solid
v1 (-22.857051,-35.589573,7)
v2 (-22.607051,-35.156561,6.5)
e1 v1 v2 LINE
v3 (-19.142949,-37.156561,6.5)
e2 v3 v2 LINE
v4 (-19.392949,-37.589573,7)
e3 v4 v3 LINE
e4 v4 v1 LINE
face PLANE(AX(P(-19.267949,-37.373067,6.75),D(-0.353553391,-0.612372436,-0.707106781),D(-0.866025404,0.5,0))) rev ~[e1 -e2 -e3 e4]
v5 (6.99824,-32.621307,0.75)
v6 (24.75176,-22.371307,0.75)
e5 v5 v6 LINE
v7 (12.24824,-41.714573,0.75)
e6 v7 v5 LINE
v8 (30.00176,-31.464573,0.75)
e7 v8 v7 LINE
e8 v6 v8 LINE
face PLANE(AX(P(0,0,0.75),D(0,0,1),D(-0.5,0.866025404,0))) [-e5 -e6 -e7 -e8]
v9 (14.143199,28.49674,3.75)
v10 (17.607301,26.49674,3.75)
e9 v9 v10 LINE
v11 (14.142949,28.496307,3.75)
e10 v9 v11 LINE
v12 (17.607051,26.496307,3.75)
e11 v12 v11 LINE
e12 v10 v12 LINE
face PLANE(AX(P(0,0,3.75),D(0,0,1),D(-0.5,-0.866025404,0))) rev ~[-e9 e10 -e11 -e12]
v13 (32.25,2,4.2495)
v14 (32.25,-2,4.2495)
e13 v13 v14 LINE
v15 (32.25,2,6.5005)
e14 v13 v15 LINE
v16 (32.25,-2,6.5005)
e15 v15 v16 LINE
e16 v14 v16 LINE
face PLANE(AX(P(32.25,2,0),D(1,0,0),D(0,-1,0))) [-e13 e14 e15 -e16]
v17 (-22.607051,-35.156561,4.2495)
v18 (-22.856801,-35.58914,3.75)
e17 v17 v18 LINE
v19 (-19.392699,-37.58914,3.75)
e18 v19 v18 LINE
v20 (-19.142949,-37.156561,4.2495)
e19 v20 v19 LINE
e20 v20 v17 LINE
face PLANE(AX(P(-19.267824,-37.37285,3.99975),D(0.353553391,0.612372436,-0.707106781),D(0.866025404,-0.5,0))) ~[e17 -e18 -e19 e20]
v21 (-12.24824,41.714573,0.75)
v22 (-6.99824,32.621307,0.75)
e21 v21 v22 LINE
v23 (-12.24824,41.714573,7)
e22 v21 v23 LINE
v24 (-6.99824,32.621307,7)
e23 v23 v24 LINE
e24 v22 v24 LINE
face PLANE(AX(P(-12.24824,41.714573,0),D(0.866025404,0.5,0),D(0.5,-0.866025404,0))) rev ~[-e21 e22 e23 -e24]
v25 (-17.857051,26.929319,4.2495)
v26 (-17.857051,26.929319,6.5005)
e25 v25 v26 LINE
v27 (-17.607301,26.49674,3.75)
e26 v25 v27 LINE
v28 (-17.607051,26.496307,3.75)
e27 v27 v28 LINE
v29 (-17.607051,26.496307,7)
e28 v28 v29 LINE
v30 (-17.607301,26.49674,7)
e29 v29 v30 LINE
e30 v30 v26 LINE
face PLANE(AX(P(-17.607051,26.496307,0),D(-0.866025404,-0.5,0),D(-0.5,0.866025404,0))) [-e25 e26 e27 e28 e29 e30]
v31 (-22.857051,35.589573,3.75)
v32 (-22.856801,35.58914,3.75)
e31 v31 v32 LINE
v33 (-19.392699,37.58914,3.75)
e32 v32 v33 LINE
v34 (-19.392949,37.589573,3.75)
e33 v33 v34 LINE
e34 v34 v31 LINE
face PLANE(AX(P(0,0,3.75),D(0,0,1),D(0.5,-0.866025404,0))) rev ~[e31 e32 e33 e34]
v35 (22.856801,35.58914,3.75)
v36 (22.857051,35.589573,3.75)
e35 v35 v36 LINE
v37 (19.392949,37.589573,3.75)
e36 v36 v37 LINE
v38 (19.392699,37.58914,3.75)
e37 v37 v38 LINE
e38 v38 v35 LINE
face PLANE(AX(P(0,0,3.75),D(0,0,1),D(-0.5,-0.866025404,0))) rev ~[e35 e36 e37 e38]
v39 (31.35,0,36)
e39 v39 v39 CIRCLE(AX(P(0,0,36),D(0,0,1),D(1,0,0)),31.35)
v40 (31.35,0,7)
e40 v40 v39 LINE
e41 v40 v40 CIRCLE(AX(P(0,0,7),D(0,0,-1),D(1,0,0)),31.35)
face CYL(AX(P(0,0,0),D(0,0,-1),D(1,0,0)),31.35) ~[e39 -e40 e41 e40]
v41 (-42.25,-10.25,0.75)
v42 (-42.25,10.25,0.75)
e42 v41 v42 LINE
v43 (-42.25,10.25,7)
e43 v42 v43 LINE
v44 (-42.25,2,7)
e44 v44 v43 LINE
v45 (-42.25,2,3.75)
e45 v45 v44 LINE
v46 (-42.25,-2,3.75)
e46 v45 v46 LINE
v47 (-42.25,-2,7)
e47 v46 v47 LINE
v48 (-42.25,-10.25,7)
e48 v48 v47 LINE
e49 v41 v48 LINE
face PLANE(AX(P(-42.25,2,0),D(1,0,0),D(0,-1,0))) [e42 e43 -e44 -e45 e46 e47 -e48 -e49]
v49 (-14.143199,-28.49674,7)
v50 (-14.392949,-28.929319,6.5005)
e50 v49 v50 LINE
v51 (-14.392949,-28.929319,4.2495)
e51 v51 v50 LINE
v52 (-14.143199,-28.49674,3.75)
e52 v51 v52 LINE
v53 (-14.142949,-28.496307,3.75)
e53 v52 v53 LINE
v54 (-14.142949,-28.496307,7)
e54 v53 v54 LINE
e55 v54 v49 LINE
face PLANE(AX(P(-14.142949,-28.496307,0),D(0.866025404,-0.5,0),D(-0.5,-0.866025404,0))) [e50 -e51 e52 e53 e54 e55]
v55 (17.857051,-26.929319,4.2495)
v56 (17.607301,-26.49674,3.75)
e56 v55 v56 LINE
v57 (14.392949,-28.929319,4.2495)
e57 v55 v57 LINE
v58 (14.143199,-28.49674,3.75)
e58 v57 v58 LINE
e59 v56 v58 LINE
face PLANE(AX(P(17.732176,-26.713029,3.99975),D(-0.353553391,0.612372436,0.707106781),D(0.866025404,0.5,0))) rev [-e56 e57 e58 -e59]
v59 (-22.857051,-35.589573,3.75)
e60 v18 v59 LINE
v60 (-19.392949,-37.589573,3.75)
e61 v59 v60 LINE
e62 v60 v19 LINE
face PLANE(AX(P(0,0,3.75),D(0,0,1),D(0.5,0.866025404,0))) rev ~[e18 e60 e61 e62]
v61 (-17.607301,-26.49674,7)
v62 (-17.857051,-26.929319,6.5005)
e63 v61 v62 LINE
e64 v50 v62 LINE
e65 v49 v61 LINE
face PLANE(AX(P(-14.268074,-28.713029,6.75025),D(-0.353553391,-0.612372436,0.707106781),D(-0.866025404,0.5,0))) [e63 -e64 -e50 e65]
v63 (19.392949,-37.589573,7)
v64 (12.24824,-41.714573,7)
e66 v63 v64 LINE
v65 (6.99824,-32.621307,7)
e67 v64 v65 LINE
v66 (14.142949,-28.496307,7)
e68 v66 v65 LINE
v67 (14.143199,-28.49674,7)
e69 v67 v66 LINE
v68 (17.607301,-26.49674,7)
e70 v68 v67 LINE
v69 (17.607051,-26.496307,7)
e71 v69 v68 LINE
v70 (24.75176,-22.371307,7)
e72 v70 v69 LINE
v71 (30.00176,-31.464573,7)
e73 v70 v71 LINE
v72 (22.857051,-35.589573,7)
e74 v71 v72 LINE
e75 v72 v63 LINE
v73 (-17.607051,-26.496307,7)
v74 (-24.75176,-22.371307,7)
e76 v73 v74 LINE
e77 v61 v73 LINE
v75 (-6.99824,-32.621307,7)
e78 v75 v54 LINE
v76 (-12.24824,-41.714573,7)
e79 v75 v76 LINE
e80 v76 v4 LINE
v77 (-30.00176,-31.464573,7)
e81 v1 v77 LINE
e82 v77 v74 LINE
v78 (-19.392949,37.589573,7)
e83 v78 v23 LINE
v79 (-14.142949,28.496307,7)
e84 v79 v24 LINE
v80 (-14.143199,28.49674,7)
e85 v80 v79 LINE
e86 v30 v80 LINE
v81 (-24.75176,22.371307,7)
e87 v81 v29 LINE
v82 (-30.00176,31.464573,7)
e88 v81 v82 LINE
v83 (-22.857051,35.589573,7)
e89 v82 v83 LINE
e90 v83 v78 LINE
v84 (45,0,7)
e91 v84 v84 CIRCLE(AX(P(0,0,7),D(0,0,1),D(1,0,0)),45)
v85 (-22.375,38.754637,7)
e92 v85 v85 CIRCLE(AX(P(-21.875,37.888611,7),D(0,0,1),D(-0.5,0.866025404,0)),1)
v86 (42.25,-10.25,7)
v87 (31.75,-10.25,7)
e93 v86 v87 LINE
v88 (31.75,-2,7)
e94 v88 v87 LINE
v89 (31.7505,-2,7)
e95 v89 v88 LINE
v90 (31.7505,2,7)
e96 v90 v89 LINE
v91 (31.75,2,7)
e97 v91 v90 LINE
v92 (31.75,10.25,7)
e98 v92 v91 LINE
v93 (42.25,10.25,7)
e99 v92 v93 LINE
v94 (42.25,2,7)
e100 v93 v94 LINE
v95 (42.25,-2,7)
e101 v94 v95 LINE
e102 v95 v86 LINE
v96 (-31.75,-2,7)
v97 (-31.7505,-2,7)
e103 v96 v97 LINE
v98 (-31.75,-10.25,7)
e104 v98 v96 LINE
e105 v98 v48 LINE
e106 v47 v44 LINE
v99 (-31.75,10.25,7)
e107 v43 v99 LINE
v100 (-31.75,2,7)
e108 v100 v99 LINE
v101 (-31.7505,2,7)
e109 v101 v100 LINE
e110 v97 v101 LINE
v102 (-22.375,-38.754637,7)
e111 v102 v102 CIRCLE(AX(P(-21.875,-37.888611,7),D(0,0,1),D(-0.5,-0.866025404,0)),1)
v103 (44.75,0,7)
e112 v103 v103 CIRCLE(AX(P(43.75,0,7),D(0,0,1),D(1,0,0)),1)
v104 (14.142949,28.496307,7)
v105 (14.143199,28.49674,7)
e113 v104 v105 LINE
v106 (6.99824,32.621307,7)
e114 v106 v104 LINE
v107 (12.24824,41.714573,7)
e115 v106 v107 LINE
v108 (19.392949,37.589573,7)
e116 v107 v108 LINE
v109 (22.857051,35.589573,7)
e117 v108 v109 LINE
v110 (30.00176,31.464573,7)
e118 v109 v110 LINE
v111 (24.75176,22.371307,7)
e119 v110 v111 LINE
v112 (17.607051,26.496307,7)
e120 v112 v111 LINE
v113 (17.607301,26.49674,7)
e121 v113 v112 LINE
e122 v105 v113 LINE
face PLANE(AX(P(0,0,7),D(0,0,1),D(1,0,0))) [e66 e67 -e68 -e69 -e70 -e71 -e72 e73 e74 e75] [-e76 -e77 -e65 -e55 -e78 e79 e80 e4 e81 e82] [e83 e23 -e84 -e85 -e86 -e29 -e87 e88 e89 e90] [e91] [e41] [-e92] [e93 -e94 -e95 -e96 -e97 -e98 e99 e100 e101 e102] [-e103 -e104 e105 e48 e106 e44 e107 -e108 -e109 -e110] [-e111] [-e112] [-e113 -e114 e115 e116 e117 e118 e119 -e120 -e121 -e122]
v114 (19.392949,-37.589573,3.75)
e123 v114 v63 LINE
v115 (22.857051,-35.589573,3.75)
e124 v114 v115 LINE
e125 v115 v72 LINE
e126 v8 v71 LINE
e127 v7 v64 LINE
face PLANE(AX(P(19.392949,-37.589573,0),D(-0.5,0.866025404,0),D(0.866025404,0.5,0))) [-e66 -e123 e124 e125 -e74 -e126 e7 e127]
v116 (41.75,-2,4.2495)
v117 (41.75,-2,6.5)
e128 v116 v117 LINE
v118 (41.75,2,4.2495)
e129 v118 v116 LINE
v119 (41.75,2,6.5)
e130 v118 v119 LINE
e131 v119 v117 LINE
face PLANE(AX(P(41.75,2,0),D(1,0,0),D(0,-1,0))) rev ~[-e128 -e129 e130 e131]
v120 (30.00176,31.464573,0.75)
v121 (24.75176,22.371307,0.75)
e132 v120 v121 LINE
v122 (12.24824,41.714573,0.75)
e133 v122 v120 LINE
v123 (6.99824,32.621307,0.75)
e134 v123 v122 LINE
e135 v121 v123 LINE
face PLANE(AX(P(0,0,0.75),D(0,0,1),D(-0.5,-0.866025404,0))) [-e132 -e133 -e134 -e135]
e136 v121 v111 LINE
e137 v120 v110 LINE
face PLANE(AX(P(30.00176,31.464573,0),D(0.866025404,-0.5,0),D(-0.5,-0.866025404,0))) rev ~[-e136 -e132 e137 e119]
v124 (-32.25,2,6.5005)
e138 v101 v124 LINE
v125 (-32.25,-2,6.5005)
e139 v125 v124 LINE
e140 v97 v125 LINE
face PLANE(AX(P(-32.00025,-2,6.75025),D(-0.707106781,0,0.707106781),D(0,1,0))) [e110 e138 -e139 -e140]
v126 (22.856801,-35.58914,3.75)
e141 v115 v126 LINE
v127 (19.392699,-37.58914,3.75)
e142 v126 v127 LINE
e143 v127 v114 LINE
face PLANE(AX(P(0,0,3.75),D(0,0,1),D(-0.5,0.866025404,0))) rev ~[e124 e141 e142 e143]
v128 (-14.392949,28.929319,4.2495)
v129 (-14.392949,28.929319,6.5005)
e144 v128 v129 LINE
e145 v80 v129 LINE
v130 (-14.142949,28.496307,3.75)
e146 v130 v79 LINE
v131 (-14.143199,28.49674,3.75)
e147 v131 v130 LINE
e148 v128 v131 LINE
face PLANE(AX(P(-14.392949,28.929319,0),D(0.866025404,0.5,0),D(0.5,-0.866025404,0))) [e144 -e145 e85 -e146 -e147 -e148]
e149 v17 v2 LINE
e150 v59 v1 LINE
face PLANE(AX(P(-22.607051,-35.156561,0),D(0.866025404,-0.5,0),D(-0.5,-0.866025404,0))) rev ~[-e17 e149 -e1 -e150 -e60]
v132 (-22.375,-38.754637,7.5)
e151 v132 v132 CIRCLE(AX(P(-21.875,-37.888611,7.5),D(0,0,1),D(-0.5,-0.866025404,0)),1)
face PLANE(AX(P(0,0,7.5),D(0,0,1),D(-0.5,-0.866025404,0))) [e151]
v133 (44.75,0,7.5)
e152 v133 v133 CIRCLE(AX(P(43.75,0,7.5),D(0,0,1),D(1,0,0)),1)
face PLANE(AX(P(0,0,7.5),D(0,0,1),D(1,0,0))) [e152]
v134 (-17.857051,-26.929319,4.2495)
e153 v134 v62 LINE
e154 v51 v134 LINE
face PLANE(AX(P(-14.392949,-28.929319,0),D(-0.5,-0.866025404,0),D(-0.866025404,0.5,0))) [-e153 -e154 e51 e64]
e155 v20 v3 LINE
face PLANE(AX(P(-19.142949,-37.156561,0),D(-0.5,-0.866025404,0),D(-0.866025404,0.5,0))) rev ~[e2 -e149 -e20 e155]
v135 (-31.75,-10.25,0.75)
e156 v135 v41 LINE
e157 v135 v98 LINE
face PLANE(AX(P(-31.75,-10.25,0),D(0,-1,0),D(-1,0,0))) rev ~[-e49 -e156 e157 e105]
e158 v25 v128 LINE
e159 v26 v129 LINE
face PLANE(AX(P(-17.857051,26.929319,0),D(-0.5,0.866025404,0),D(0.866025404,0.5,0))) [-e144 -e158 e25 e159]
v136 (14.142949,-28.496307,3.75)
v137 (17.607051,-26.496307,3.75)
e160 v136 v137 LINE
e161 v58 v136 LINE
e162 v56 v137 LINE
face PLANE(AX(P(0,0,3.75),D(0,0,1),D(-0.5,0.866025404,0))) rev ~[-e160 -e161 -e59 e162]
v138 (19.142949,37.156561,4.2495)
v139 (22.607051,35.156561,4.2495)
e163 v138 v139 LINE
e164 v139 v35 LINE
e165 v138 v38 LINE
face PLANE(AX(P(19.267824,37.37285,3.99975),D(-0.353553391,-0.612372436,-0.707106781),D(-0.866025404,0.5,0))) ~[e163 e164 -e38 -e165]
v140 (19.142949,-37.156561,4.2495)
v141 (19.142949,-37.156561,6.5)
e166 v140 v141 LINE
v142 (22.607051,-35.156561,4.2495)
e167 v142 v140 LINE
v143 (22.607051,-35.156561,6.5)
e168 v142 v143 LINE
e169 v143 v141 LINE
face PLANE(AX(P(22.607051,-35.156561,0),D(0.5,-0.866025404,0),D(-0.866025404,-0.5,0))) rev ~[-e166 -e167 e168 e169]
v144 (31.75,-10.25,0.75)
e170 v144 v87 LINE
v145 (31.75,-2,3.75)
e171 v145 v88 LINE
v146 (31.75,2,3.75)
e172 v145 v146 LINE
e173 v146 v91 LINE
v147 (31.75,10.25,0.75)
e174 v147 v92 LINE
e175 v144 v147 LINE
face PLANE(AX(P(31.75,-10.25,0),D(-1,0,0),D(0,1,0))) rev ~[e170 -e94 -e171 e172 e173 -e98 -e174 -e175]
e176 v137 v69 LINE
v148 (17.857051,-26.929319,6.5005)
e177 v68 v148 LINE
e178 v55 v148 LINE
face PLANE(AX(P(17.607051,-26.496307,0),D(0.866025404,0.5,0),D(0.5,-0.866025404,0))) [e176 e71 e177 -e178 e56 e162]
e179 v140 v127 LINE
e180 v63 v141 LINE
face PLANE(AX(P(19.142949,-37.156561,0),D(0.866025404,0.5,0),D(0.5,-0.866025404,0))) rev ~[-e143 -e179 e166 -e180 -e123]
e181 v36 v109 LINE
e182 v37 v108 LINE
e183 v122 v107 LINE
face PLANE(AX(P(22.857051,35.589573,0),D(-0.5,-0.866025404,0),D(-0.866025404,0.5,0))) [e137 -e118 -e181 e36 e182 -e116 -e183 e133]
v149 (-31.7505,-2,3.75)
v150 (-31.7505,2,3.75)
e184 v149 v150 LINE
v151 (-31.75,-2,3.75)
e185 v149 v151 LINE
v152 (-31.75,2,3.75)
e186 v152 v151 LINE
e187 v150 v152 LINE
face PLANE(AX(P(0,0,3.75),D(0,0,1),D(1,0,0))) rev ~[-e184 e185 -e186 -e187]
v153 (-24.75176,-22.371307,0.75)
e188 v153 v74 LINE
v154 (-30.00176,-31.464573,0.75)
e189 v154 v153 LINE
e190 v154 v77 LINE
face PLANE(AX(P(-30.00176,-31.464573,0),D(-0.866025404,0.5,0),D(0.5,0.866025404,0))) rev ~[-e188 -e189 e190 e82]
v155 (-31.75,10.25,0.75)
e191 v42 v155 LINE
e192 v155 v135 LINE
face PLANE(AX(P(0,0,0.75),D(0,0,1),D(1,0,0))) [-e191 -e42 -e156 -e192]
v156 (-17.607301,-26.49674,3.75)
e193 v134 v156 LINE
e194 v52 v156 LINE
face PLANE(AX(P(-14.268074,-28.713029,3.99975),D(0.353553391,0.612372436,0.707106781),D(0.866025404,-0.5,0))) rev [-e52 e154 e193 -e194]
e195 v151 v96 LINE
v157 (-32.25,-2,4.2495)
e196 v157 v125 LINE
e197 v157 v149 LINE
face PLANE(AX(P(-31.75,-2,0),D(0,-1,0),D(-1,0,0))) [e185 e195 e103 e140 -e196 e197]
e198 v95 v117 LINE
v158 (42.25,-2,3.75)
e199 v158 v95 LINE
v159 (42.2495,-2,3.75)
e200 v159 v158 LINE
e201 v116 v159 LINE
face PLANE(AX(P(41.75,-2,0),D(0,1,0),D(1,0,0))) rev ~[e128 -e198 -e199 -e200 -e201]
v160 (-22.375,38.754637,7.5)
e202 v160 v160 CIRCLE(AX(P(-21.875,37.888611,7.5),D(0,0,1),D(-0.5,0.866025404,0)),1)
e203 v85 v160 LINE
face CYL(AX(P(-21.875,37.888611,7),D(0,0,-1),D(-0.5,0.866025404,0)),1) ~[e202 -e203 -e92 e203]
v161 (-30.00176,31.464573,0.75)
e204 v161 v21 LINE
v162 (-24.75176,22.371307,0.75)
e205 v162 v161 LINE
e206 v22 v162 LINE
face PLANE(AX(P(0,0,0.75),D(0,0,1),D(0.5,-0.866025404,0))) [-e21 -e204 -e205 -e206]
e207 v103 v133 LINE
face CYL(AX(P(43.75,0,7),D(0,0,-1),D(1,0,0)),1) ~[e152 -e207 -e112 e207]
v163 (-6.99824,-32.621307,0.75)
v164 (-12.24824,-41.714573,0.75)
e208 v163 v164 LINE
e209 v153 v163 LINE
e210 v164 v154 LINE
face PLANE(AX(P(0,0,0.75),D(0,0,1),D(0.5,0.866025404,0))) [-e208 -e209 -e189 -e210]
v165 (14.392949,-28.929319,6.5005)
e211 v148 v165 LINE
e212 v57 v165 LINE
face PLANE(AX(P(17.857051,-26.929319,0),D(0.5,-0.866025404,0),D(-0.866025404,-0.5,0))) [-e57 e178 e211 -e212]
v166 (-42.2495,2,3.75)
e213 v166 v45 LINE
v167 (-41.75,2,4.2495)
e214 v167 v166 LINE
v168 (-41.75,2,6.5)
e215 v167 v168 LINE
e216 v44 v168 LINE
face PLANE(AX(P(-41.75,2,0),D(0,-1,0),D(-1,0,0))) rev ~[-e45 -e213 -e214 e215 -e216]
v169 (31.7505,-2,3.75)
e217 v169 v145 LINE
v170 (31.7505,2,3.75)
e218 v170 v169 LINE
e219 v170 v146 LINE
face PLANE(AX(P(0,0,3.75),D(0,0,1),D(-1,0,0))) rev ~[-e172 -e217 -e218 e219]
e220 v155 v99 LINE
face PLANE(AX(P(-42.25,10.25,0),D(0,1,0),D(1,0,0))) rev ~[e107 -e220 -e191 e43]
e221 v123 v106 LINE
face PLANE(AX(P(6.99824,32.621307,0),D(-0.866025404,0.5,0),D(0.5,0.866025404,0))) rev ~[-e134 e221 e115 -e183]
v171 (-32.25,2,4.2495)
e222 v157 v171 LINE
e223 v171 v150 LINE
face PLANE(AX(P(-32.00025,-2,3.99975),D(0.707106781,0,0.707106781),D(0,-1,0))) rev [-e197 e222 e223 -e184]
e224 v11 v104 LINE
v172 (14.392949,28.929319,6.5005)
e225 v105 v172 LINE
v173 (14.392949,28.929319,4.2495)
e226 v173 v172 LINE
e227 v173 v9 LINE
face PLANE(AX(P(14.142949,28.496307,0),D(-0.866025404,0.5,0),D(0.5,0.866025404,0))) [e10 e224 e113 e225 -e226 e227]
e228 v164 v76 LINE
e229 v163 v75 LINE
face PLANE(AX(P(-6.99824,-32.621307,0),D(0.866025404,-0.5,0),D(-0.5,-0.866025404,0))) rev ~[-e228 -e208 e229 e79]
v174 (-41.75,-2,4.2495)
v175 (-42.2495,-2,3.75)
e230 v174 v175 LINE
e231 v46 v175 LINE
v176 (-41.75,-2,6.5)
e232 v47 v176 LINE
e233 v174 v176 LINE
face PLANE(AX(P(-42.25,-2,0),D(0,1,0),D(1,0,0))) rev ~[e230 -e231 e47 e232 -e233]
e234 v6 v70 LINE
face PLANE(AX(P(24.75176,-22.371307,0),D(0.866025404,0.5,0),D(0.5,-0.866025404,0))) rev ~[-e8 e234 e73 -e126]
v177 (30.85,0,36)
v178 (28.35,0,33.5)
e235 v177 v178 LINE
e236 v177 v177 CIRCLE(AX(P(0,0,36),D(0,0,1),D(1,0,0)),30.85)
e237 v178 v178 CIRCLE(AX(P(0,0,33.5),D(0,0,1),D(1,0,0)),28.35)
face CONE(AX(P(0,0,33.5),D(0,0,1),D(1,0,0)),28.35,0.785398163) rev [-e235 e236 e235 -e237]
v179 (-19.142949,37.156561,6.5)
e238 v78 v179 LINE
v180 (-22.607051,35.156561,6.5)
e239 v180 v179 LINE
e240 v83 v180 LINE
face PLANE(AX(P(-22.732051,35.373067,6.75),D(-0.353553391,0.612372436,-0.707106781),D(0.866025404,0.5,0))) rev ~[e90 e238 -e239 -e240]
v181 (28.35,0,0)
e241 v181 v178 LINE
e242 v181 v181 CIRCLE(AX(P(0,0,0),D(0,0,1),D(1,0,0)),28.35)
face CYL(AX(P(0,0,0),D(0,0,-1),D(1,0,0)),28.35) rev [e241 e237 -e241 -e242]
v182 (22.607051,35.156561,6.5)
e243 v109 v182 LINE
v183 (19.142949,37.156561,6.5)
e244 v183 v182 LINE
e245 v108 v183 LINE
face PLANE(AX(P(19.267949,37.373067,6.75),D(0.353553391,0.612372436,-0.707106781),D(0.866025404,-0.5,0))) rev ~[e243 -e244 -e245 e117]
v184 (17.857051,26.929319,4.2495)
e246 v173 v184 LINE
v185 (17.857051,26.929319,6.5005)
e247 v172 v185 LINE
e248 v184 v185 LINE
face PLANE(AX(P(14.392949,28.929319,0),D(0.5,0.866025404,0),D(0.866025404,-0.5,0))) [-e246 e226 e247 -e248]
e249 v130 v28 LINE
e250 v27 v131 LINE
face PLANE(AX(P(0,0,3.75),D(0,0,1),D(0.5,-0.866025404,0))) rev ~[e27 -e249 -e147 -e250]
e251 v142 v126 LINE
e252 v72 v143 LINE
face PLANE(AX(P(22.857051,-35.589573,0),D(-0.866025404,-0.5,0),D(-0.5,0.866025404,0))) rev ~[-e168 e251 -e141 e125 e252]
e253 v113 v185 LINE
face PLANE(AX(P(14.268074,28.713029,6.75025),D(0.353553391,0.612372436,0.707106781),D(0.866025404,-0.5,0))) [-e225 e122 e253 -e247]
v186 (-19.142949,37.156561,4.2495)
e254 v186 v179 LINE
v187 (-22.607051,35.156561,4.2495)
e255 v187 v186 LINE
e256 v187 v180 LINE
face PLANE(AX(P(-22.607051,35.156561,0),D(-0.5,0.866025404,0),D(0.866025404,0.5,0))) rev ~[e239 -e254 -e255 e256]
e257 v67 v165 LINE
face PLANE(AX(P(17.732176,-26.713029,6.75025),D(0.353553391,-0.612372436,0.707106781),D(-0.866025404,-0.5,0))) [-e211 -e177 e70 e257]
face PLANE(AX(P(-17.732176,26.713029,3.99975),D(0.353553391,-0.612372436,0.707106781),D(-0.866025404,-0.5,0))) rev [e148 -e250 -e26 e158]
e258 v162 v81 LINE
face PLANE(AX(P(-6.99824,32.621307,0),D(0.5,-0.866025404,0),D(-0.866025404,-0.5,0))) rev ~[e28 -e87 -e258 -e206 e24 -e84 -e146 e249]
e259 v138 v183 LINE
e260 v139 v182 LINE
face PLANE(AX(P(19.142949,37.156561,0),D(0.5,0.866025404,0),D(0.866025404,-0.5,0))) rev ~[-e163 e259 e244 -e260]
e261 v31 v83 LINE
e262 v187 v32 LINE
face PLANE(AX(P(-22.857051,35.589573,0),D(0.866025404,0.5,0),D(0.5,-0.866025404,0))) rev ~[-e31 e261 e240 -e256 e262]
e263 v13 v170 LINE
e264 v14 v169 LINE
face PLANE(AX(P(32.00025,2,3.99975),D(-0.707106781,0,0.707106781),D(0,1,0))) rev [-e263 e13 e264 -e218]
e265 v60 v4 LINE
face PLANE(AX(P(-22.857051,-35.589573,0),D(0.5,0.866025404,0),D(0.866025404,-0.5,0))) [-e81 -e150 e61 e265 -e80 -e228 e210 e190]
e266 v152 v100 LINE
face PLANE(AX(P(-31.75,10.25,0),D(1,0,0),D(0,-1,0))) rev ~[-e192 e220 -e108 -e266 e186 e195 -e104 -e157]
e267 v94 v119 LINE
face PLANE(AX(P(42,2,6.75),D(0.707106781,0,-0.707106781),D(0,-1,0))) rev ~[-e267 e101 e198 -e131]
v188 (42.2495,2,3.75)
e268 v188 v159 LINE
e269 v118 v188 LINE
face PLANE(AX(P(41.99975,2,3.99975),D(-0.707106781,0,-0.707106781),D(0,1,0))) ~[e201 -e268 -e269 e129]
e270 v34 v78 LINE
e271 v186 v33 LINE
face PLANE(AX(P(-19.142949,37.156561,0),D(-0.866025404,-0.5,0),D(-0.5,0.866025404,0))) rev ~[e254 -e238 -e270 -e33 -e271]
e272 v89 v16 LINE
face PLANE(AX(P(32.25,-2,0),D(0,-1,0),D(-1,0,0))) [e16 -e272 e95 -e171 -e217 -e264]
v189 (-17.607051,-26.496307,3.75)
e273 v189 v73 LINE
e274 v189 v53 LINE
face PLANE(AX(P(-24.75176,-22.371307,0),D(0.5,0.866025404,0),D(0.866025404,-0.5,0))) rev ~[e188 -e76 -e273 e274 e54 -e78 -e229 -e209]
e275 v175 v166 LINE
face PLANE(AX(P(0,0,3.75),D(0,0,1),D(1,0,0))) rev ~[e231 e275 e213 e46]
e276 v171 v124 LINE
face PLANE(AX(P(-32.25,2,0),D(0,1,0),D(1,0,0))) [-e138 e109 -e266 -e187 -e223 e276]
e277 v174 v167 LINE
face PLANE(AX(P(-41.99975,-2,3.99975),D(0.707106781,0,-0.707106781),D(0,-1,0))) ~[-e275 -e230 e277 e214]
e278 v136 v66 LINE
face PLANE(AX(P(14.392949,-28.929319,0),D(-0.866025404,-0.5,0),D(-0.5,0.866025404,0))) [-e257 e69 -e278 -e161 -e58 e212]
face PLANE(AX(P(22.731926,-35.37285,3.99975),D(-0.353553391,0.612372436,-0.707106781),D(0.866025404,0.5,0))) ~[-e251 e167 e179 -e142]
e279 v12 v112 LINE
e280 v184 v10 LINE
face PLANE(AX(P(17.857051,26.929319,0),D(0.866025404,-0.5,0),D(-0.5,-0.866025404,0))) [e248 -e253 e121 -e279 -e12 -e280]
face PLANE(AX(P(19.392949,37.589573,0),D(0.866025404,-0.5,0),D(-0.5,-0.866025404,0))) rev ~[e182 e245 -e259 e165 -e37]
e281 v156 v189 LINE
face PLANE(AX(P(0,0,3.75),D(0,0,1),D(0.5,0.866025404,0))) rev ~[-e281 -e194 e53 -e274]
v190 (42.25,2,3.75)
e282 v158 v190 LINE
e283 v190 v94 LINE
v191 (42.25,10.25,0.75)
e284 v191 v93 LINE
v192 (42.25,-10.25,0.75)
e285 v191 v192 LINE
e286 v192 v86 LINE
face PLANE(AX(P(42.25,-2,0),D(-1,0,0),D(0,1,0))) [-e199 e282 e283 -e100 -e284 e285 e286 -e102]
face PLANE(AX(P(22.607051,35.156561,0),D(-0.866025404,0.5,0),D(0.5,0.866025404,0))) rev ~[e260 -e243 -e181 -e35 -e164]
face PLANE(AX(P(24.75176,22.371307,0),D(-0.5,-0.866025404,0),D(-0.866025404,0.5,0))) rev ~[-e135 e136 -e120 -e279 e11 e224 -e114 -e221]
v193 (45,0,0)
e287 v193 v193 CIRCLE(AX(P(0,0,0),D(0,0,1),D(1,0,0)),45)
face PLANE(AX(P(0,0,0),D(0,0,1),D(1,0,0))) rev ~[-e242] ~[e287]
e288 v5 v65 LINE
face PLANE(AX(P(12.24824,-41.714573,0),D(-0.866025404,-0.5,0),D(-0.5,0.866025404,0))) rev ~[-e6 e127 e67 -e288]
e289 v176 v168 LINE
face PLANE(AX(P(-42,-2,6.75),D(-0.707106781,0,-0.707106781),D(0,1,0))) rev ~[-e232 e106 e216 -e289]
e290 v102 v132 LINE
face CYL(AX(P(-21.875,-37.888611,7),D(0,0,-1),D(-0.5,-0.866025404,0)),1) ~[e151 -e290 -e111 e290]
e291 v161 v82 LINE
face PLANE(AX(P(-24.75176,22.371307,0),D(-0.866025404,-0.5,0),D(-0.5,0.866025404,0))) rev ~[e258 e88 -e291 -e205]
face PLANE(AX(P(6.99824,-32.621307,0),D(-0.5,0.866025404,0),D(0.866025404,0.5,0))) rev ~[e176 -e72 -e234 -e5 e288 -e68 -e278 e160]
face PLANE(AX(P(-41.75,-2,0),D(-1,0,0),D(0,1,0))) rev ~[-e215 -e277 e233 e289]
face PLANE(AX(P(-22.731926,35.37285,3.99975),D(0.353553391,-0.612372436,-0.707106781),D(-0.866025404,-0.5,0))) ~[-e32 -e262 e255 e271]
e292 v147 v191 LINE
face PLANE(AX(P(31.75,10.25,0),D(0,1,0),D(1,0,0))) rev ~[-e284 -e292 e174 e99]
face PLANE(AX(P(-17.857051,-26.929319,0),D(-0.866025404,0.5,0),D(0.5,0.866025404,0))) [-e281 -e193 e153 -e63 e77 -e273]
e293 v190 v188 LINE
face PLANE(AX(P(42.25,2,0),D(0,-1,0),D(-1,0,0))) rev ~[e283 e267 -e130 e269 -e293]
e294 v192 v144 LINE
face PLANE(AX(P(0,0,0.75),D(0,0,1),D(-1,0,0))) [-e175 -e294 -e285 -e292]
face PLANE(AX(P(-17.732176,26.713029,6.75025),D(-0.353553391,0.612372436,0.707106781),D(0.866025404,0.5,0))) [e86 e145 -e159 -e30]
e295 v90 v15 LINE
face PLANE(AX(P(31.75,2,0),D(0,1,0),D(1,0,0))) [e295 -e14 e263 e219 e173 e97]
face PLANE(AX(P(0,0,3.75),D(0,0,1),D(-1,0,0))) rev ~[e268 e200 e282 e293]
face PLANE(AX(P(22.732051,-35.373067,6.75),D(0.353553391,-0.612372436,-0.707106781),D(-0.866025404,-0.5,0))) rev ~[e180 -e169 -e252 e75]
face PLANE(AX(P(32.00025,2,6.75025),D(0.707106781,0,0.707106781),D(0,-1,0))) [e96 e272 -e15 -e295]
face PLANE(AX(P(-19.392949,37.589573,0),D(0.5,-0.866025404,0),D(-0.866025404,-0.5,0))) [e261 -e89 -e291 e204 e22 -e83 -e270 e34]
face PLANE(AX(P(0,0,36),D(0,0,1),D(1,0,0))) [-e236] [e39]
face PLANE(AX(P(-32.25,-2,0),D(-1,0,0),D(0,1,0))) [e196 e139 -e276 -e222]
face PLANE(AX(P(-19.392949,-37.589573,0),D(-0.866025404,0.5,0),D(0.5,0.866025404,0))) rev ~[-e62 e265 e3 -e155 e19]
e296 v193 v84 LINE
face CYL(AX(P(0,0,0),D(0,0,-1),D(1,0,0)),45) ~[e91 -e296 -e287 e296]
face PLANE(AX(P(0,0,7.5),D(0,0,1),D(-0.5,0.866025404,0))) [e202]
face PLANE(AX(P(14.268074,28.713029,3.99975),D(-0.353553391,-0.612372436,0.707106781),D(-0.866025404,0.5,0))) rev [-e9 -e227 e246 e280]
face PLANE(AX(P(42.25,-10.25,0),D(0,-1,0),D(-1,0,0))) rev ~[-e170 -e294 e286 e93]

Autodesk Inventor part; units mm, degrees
ref_plane "YZ Plane" through (0, 0, 0) normal (1, 0, 0) x (0, 1, 0)
ref_plane "XZ Plane" through (0, 0, 0) normal (0, 1, 0) x (-1, 0, 0)
ref_plane "XY Plane" through (0, 0, 0) normal (0, 0, 1) x (1, 0, 0)
sketch "Sketch1" plane through (0, 0, 0) normal (0, 0, 1) x (1, 0, 0)
  circle A0 centre (0, 0) radius 28.35
  line L0 (31.75, 10.25) -> (42.25, 10.25)
  line L1 (42.25, 10.25) -> (42.25, -10.25)
  line L2 (42.25, -10.25) -> (31.75, -10.25)
  line L3 (31.75, -10.25) -> (31.75, 10.25)
  circle A1 centre (0, 0) radius 45
  line L4 (42.25, 2) -> (41.75, 2)
  line L5 (41.75, 2) -> (41.75, -2)
  line L6 (41.75, -2) -> (42.25, -2)
  line L7 (42.25, -2) -> (42.25, 2)
  line L8 (37, 10.25) -> (37, -10.25)
  line L9 (31.75, 2) -> (32.25, 2)
  line L10 (32.25, 2) -> (32.25, -2)
  line L11 (32.25, -2) -> (31.75, -2)
  line L12 (31.75, -2) -> (31.75, 2)
  line L13 (19.3929, 37.5896) -> (19.1429, 37.1566)
  line L14 (22.6071, 35.1566) -> (22.8571, 35.5896)
  line L15 (22.8571, 35.5896) -> (19.3929, 37.5896)
  line L16 (19.1429, 37.1566) -> (22.6071, 35.1566)
  line L17 (14.1429, 28.4963) -> (14.3929, 28.9293)
  line L18 (14.3929, 28.9293) -> (17.8571, 26.9293)
  line L19 (17.6071, 26.4963) -> (14.1429, 28.4963)
  line L20 (17.8571, 26.9293) -> (17.6071, 26.4963)
  line L21 (24.7518, 22.3713) -> (6.9982, 32.6213)
  line L22 (30.0018, 31.4646) -> (24.7518, 22.3713)
  line L23 (12.2482, 41.7146) -> (30.0018, 31.4646)
  line L24 (6.9982, 32.6213) -> (12.2482, 41.7146)
  line L25 (-22.8571, 35.5896) -> (-22.6071, 35.1566)
  line L26 (-19.1429, 37.1566) -> (-19.3929, 37.5896)
  line L27 (-19.3929, 37.5896) -> (-22.8571, 35.5896)
  line L28 (-22.6071, 35.1566) -> (-19.1429, 37.1566)
  line L29 (-17.6071, 26.4963) -> (-17.8571, 26.9293)
  line L30 (-17.8571, 26.9293) -> (-14.3929, 28.9293)
  line L31 (-14.1429, 28.4963) -> (-17.6071, 26.4963)
  line L32 (-14.3929, 28.9293) -> (-14.1429, 28.4963)
  line L33 (-6.9982, 32.6213) -> (-24.7518, 22.3713)
  line L34 (-12.2482, 41.7146) -> (-6.9982, 32.6213)
  line L35 (-30.0018, 31.4646) -> (-12.2482, 41.7146)
  line L36 (-24.7518, 22.3713) -> (-30.0018, 31.4646)
  line L37 (-42.25, -2) -> (-41.75, -2)
  line L38 (-41.75, 2) -> (-42.25, 2)
  line L39 (-42.25, 2) -> (-42.25, -2)
  line L40 (-41.75, -2) -> (-41.75, 2)
  line L41 (-31.75, -2) -> (-32.25, -2)
  line L42 (-32.25, -2) -> (-32.25, 2)
  line L43 (-31.75, 2) -> (-31.75, -2)
  line L44 (-32.25, 2) -> (-31.75, 2)
  line L45 (-31.75, 10.25) -> (-31.75, -10.25)
  line L46 (-42.25, 10.25) -> (-31.75, 10.25)
  line L47 (-42.25, -10.25) -> (-42.25, 10.25)
  line L48 (-31.75, -10.25) -> (-42.25, -10.25)
  line L49 (-19.3929, -37.5896) -> (-19.1429, -37.1566)
  line L50 (-22.6071, -35.1566) -> (-22.8571, -35.5896)
  line L51 (-22.8571, -35.5896) -> (-19.3929, -37.5896)
  line L52 (-19.1429, -37.1566) -> (-22.6071, -35.1566)
  line L53 (-14.1429, -28.4963) -> (-14.3929, -28.9293)
  line L54 (-14.3929, -28.9293) -> (-17.8571, -26.9293)
  line L55 (-17.6071, -26.4963) -> (-14.1429, -28.4963)
  line L56 (-17.8571, -26.9293) -> (-17.6071, -26.4963)
  line L57 (-24.7518, -22.3713) -> (-6.9982, -32.6213)
  line L58 (-30.0018, -31.4646) -> (-24.7518, -22.3713)
  line L59 (-12.2482, -41.7146) -> (-30.0018, -31.4646)
  line L60 (-6.9982, -32.6213) -> (-12.2482, -41.7146)
  line L61 (22.8571, -35.5896) -> (22.6071, -35.1566)
  line L62 (19.1429, -37.1566) -> (19.3929, -37.5896)
  line L63 (19.3929, -37.5896) -> (22.8571, -35.5896)
  line L64 (22.6071, -35.1566) -> (19.1429, -37.1566)
  line L65 (17.6071, -26.4963) -> (17.8571, -26.9293)
  line L66 (17.8571, -26.9293) -> (14.3929, -28.9293)
  line L67 (14.1429, -28.4963) -> (17.6071, -26.4963)
  line L68 (14.3929, -28.9293) -> (14.1429, -28.4963)
  line L69 (6.9982, -32.6213) -> (24.7518, -22.3713)
  line L70 (12.2482, -41.7146) -> (6.9982, -32.6213)
  line L71 (30.0018, -31.4646) -> (12.2482, -41.7146)
  line L72 (24.7518, -22.3713) -> (30.0018, -31.4646)
  circle A2 centre (0, 0) radius 31.35
  point P0 (27.3768, 26.9179)
  point P1 (9.6232, 37.1679)
  point P2 (-9.6232, 37.1679)
  point P3 (-27.3768, 26.9179)
  point P4 (-37, 10.25)
  point P5 (-37, -10.25)
  point P6 (-27.3768, -26.9179)
  point P7 (-9.6232, -37.1679)
  point P8 (9.6232, -37.1679)
  point P9 (27.3768, -26.9179)
  dimension "d1" = 56.7
  dimension "d16" = 20.5
  dimension "d17" = 10.5
  dimension "d72" = 10.25
  dimension "d73" = 90
  dimension "d74" = 4
  dimension "d75" = 0.5
  dimension "d76" = 2
  dimension "d83" = 360
  dimension "d85" = 62.7
  dimension "d114" = 37
extrude "Extrusion9" add sketch "Sketch1" along normal blind 7 contours A0 | L0 L8 L2 L3 L11 L10 L9 | L0 L1 L4 L5 L6 L2 L8 | L9 L10 L11 L3 | L1 L6 L5 L4 | A1 | L15 L14 L16 L13 | L13 L16 L14 L23 L22 L21 L20 L18 L17 L24 | L17 L18 L20 L19 | L27 L26 L28 L25 | L25 L28 L26 L35 L34 L33 L32 L30 L29 L36 | L29 L30 L32 L31 | L39 L38 L40 L37 | L37 L40 L38 L47 L46 L45 L44 L42 L41 L48 | L41 L42 L44 L43 | L51 L50 L52 L49 | L49 L52 L50 L59 L58 L57 L56 L54 L53 L60 | L53 L54 L56 L55 | L63 L62 L64 L61 | L61 L64 L62 L71 L70 L69 L68 L66 L65 L72 | L65 L66 L68 L67 | A2
extrude "Extrusion10" add sketch "Sketch1" along normal blind 36 contours A0 | A2
extrude "Extrusion11" cut sketch "Sketch1" along normal blind 36 contours A0
extrude "Extrusion12" cut sketch "Sketch1" along normal blind 7 contours L39 L38 L40 L37 | L37 L40 L38 L47 L46 L45 L44 L42 L41 L48 | L41 L42 L44 L43
extrude "Extrusion13" add sketch "Sketch1" along normal blind 7 contours L39 L38 L40 L37 | L41 L42 L44 L43
extrude "Extrusion14" add sketch "Sketch1" along normal blind 0.75 contours L39 L38 L40 L37 | L37 L40 L38 L47 L46 L45 L44 L42 L41 L48 | L41 L42 L44 L43
chamfer "Chamfer4" distance 0.5 angle 45 1 edges at (-41.75, 0, 7)
pattern_circular "Circular Pattern3" count 6 over 360 about axis through (0, 0, 0) along (0, 0, 1) of "Extrusion12", "Extrusion13", "Extrusion14", "Chamfer4"
chamfer "Chamfer5" distance 2.5 angle 45 1 edges at (-28.35, 0, 36)
sketch "Sketch3" plane through (0, 0, 7) normal (0, 0, 1) x (1, 0, 0)
  circle A0 centre (43.75, 0) radius 1
  line L0 (42.25, -2) -> (42.25, 2) projected
  point P0 (0, 0)
  dimension "d107" = 2
  dimension "d108" = 1.5
extrude "Extrusion15" add sketch "Sketch3" along normal blind 0.5
pattern_circular "Circular Pattern4" count 3 over 360 about axis through (0, 0, 0) along (0, 0, 1) of "Extrusion15"
sketch "Sketch4" plane through (0, 0, 0.75) normal (0, 0, 1) x (1, 0, 0)
  line L0 (-41.75, -2) -> (-41.75, 2) projected
  line L1 (-42.25, -2) -> (-41.75, -2) projected
  line L2 (-41.75, 2) -> (-42.25, 2)
  line L3 (-42.25, 2) -> (-42.25, -2)
  line L4 (-42.25, -2) -> (-41.75, -2)
  line L5 (-41.75, -2) -> (-41.75, 2)
  line L6 (-32.25, -2) -> (-31.75, -2) projected
  line L7 (-31.75, -2) -> (-32.25, -2)
  line L8 (-32.25, -2) -> (-32.25, 2)
  line L9 (-32.25, 2) -> (-31.75, 2)
  line L10 (-31.75, 2) -> (-31.75, -2)
  point P0 (0, 0)
extrude "Extrusion16" cut sketch "Sketch4" along normal blind 3
pattern_circular "Circular Pattern5" count 6 over 360 about axis through (0, 0, 0) along (0, 0, 1) of "Extrusion16"
chamfer "Chamfer6" distance 0.5 angle 45 18 edges at (-32.25, 0, 3.75) (-20.875, -36.1566, 3.75) (-41.75, 0, 3.75) (-16.125, -27.9293, 3.75) (16.125, -27.9293, 3.75) (20.875, -36.1566, 3.75) (32.25, 0, 3.75) (41.75, 0, 3.75) (20.875, 36.1566, 3.75) (16.125, 27.9293, 3.75) (-16.125, 27.9293, 3.75) (-20.875, 36.1566, 3.75) (-32.25, 0, 7) (-16.125, -27.9293, 7) (16.125, -27.9293, 7) (32.25, 0, 7) (16.125, 27.9293, 7) (-16.125, 27.9293, 7)
equation "\"d72\" = 0.5 * d16"
equation "\"d76\" = 0.5 * d74"
properties part number "2.5inchFemale"
